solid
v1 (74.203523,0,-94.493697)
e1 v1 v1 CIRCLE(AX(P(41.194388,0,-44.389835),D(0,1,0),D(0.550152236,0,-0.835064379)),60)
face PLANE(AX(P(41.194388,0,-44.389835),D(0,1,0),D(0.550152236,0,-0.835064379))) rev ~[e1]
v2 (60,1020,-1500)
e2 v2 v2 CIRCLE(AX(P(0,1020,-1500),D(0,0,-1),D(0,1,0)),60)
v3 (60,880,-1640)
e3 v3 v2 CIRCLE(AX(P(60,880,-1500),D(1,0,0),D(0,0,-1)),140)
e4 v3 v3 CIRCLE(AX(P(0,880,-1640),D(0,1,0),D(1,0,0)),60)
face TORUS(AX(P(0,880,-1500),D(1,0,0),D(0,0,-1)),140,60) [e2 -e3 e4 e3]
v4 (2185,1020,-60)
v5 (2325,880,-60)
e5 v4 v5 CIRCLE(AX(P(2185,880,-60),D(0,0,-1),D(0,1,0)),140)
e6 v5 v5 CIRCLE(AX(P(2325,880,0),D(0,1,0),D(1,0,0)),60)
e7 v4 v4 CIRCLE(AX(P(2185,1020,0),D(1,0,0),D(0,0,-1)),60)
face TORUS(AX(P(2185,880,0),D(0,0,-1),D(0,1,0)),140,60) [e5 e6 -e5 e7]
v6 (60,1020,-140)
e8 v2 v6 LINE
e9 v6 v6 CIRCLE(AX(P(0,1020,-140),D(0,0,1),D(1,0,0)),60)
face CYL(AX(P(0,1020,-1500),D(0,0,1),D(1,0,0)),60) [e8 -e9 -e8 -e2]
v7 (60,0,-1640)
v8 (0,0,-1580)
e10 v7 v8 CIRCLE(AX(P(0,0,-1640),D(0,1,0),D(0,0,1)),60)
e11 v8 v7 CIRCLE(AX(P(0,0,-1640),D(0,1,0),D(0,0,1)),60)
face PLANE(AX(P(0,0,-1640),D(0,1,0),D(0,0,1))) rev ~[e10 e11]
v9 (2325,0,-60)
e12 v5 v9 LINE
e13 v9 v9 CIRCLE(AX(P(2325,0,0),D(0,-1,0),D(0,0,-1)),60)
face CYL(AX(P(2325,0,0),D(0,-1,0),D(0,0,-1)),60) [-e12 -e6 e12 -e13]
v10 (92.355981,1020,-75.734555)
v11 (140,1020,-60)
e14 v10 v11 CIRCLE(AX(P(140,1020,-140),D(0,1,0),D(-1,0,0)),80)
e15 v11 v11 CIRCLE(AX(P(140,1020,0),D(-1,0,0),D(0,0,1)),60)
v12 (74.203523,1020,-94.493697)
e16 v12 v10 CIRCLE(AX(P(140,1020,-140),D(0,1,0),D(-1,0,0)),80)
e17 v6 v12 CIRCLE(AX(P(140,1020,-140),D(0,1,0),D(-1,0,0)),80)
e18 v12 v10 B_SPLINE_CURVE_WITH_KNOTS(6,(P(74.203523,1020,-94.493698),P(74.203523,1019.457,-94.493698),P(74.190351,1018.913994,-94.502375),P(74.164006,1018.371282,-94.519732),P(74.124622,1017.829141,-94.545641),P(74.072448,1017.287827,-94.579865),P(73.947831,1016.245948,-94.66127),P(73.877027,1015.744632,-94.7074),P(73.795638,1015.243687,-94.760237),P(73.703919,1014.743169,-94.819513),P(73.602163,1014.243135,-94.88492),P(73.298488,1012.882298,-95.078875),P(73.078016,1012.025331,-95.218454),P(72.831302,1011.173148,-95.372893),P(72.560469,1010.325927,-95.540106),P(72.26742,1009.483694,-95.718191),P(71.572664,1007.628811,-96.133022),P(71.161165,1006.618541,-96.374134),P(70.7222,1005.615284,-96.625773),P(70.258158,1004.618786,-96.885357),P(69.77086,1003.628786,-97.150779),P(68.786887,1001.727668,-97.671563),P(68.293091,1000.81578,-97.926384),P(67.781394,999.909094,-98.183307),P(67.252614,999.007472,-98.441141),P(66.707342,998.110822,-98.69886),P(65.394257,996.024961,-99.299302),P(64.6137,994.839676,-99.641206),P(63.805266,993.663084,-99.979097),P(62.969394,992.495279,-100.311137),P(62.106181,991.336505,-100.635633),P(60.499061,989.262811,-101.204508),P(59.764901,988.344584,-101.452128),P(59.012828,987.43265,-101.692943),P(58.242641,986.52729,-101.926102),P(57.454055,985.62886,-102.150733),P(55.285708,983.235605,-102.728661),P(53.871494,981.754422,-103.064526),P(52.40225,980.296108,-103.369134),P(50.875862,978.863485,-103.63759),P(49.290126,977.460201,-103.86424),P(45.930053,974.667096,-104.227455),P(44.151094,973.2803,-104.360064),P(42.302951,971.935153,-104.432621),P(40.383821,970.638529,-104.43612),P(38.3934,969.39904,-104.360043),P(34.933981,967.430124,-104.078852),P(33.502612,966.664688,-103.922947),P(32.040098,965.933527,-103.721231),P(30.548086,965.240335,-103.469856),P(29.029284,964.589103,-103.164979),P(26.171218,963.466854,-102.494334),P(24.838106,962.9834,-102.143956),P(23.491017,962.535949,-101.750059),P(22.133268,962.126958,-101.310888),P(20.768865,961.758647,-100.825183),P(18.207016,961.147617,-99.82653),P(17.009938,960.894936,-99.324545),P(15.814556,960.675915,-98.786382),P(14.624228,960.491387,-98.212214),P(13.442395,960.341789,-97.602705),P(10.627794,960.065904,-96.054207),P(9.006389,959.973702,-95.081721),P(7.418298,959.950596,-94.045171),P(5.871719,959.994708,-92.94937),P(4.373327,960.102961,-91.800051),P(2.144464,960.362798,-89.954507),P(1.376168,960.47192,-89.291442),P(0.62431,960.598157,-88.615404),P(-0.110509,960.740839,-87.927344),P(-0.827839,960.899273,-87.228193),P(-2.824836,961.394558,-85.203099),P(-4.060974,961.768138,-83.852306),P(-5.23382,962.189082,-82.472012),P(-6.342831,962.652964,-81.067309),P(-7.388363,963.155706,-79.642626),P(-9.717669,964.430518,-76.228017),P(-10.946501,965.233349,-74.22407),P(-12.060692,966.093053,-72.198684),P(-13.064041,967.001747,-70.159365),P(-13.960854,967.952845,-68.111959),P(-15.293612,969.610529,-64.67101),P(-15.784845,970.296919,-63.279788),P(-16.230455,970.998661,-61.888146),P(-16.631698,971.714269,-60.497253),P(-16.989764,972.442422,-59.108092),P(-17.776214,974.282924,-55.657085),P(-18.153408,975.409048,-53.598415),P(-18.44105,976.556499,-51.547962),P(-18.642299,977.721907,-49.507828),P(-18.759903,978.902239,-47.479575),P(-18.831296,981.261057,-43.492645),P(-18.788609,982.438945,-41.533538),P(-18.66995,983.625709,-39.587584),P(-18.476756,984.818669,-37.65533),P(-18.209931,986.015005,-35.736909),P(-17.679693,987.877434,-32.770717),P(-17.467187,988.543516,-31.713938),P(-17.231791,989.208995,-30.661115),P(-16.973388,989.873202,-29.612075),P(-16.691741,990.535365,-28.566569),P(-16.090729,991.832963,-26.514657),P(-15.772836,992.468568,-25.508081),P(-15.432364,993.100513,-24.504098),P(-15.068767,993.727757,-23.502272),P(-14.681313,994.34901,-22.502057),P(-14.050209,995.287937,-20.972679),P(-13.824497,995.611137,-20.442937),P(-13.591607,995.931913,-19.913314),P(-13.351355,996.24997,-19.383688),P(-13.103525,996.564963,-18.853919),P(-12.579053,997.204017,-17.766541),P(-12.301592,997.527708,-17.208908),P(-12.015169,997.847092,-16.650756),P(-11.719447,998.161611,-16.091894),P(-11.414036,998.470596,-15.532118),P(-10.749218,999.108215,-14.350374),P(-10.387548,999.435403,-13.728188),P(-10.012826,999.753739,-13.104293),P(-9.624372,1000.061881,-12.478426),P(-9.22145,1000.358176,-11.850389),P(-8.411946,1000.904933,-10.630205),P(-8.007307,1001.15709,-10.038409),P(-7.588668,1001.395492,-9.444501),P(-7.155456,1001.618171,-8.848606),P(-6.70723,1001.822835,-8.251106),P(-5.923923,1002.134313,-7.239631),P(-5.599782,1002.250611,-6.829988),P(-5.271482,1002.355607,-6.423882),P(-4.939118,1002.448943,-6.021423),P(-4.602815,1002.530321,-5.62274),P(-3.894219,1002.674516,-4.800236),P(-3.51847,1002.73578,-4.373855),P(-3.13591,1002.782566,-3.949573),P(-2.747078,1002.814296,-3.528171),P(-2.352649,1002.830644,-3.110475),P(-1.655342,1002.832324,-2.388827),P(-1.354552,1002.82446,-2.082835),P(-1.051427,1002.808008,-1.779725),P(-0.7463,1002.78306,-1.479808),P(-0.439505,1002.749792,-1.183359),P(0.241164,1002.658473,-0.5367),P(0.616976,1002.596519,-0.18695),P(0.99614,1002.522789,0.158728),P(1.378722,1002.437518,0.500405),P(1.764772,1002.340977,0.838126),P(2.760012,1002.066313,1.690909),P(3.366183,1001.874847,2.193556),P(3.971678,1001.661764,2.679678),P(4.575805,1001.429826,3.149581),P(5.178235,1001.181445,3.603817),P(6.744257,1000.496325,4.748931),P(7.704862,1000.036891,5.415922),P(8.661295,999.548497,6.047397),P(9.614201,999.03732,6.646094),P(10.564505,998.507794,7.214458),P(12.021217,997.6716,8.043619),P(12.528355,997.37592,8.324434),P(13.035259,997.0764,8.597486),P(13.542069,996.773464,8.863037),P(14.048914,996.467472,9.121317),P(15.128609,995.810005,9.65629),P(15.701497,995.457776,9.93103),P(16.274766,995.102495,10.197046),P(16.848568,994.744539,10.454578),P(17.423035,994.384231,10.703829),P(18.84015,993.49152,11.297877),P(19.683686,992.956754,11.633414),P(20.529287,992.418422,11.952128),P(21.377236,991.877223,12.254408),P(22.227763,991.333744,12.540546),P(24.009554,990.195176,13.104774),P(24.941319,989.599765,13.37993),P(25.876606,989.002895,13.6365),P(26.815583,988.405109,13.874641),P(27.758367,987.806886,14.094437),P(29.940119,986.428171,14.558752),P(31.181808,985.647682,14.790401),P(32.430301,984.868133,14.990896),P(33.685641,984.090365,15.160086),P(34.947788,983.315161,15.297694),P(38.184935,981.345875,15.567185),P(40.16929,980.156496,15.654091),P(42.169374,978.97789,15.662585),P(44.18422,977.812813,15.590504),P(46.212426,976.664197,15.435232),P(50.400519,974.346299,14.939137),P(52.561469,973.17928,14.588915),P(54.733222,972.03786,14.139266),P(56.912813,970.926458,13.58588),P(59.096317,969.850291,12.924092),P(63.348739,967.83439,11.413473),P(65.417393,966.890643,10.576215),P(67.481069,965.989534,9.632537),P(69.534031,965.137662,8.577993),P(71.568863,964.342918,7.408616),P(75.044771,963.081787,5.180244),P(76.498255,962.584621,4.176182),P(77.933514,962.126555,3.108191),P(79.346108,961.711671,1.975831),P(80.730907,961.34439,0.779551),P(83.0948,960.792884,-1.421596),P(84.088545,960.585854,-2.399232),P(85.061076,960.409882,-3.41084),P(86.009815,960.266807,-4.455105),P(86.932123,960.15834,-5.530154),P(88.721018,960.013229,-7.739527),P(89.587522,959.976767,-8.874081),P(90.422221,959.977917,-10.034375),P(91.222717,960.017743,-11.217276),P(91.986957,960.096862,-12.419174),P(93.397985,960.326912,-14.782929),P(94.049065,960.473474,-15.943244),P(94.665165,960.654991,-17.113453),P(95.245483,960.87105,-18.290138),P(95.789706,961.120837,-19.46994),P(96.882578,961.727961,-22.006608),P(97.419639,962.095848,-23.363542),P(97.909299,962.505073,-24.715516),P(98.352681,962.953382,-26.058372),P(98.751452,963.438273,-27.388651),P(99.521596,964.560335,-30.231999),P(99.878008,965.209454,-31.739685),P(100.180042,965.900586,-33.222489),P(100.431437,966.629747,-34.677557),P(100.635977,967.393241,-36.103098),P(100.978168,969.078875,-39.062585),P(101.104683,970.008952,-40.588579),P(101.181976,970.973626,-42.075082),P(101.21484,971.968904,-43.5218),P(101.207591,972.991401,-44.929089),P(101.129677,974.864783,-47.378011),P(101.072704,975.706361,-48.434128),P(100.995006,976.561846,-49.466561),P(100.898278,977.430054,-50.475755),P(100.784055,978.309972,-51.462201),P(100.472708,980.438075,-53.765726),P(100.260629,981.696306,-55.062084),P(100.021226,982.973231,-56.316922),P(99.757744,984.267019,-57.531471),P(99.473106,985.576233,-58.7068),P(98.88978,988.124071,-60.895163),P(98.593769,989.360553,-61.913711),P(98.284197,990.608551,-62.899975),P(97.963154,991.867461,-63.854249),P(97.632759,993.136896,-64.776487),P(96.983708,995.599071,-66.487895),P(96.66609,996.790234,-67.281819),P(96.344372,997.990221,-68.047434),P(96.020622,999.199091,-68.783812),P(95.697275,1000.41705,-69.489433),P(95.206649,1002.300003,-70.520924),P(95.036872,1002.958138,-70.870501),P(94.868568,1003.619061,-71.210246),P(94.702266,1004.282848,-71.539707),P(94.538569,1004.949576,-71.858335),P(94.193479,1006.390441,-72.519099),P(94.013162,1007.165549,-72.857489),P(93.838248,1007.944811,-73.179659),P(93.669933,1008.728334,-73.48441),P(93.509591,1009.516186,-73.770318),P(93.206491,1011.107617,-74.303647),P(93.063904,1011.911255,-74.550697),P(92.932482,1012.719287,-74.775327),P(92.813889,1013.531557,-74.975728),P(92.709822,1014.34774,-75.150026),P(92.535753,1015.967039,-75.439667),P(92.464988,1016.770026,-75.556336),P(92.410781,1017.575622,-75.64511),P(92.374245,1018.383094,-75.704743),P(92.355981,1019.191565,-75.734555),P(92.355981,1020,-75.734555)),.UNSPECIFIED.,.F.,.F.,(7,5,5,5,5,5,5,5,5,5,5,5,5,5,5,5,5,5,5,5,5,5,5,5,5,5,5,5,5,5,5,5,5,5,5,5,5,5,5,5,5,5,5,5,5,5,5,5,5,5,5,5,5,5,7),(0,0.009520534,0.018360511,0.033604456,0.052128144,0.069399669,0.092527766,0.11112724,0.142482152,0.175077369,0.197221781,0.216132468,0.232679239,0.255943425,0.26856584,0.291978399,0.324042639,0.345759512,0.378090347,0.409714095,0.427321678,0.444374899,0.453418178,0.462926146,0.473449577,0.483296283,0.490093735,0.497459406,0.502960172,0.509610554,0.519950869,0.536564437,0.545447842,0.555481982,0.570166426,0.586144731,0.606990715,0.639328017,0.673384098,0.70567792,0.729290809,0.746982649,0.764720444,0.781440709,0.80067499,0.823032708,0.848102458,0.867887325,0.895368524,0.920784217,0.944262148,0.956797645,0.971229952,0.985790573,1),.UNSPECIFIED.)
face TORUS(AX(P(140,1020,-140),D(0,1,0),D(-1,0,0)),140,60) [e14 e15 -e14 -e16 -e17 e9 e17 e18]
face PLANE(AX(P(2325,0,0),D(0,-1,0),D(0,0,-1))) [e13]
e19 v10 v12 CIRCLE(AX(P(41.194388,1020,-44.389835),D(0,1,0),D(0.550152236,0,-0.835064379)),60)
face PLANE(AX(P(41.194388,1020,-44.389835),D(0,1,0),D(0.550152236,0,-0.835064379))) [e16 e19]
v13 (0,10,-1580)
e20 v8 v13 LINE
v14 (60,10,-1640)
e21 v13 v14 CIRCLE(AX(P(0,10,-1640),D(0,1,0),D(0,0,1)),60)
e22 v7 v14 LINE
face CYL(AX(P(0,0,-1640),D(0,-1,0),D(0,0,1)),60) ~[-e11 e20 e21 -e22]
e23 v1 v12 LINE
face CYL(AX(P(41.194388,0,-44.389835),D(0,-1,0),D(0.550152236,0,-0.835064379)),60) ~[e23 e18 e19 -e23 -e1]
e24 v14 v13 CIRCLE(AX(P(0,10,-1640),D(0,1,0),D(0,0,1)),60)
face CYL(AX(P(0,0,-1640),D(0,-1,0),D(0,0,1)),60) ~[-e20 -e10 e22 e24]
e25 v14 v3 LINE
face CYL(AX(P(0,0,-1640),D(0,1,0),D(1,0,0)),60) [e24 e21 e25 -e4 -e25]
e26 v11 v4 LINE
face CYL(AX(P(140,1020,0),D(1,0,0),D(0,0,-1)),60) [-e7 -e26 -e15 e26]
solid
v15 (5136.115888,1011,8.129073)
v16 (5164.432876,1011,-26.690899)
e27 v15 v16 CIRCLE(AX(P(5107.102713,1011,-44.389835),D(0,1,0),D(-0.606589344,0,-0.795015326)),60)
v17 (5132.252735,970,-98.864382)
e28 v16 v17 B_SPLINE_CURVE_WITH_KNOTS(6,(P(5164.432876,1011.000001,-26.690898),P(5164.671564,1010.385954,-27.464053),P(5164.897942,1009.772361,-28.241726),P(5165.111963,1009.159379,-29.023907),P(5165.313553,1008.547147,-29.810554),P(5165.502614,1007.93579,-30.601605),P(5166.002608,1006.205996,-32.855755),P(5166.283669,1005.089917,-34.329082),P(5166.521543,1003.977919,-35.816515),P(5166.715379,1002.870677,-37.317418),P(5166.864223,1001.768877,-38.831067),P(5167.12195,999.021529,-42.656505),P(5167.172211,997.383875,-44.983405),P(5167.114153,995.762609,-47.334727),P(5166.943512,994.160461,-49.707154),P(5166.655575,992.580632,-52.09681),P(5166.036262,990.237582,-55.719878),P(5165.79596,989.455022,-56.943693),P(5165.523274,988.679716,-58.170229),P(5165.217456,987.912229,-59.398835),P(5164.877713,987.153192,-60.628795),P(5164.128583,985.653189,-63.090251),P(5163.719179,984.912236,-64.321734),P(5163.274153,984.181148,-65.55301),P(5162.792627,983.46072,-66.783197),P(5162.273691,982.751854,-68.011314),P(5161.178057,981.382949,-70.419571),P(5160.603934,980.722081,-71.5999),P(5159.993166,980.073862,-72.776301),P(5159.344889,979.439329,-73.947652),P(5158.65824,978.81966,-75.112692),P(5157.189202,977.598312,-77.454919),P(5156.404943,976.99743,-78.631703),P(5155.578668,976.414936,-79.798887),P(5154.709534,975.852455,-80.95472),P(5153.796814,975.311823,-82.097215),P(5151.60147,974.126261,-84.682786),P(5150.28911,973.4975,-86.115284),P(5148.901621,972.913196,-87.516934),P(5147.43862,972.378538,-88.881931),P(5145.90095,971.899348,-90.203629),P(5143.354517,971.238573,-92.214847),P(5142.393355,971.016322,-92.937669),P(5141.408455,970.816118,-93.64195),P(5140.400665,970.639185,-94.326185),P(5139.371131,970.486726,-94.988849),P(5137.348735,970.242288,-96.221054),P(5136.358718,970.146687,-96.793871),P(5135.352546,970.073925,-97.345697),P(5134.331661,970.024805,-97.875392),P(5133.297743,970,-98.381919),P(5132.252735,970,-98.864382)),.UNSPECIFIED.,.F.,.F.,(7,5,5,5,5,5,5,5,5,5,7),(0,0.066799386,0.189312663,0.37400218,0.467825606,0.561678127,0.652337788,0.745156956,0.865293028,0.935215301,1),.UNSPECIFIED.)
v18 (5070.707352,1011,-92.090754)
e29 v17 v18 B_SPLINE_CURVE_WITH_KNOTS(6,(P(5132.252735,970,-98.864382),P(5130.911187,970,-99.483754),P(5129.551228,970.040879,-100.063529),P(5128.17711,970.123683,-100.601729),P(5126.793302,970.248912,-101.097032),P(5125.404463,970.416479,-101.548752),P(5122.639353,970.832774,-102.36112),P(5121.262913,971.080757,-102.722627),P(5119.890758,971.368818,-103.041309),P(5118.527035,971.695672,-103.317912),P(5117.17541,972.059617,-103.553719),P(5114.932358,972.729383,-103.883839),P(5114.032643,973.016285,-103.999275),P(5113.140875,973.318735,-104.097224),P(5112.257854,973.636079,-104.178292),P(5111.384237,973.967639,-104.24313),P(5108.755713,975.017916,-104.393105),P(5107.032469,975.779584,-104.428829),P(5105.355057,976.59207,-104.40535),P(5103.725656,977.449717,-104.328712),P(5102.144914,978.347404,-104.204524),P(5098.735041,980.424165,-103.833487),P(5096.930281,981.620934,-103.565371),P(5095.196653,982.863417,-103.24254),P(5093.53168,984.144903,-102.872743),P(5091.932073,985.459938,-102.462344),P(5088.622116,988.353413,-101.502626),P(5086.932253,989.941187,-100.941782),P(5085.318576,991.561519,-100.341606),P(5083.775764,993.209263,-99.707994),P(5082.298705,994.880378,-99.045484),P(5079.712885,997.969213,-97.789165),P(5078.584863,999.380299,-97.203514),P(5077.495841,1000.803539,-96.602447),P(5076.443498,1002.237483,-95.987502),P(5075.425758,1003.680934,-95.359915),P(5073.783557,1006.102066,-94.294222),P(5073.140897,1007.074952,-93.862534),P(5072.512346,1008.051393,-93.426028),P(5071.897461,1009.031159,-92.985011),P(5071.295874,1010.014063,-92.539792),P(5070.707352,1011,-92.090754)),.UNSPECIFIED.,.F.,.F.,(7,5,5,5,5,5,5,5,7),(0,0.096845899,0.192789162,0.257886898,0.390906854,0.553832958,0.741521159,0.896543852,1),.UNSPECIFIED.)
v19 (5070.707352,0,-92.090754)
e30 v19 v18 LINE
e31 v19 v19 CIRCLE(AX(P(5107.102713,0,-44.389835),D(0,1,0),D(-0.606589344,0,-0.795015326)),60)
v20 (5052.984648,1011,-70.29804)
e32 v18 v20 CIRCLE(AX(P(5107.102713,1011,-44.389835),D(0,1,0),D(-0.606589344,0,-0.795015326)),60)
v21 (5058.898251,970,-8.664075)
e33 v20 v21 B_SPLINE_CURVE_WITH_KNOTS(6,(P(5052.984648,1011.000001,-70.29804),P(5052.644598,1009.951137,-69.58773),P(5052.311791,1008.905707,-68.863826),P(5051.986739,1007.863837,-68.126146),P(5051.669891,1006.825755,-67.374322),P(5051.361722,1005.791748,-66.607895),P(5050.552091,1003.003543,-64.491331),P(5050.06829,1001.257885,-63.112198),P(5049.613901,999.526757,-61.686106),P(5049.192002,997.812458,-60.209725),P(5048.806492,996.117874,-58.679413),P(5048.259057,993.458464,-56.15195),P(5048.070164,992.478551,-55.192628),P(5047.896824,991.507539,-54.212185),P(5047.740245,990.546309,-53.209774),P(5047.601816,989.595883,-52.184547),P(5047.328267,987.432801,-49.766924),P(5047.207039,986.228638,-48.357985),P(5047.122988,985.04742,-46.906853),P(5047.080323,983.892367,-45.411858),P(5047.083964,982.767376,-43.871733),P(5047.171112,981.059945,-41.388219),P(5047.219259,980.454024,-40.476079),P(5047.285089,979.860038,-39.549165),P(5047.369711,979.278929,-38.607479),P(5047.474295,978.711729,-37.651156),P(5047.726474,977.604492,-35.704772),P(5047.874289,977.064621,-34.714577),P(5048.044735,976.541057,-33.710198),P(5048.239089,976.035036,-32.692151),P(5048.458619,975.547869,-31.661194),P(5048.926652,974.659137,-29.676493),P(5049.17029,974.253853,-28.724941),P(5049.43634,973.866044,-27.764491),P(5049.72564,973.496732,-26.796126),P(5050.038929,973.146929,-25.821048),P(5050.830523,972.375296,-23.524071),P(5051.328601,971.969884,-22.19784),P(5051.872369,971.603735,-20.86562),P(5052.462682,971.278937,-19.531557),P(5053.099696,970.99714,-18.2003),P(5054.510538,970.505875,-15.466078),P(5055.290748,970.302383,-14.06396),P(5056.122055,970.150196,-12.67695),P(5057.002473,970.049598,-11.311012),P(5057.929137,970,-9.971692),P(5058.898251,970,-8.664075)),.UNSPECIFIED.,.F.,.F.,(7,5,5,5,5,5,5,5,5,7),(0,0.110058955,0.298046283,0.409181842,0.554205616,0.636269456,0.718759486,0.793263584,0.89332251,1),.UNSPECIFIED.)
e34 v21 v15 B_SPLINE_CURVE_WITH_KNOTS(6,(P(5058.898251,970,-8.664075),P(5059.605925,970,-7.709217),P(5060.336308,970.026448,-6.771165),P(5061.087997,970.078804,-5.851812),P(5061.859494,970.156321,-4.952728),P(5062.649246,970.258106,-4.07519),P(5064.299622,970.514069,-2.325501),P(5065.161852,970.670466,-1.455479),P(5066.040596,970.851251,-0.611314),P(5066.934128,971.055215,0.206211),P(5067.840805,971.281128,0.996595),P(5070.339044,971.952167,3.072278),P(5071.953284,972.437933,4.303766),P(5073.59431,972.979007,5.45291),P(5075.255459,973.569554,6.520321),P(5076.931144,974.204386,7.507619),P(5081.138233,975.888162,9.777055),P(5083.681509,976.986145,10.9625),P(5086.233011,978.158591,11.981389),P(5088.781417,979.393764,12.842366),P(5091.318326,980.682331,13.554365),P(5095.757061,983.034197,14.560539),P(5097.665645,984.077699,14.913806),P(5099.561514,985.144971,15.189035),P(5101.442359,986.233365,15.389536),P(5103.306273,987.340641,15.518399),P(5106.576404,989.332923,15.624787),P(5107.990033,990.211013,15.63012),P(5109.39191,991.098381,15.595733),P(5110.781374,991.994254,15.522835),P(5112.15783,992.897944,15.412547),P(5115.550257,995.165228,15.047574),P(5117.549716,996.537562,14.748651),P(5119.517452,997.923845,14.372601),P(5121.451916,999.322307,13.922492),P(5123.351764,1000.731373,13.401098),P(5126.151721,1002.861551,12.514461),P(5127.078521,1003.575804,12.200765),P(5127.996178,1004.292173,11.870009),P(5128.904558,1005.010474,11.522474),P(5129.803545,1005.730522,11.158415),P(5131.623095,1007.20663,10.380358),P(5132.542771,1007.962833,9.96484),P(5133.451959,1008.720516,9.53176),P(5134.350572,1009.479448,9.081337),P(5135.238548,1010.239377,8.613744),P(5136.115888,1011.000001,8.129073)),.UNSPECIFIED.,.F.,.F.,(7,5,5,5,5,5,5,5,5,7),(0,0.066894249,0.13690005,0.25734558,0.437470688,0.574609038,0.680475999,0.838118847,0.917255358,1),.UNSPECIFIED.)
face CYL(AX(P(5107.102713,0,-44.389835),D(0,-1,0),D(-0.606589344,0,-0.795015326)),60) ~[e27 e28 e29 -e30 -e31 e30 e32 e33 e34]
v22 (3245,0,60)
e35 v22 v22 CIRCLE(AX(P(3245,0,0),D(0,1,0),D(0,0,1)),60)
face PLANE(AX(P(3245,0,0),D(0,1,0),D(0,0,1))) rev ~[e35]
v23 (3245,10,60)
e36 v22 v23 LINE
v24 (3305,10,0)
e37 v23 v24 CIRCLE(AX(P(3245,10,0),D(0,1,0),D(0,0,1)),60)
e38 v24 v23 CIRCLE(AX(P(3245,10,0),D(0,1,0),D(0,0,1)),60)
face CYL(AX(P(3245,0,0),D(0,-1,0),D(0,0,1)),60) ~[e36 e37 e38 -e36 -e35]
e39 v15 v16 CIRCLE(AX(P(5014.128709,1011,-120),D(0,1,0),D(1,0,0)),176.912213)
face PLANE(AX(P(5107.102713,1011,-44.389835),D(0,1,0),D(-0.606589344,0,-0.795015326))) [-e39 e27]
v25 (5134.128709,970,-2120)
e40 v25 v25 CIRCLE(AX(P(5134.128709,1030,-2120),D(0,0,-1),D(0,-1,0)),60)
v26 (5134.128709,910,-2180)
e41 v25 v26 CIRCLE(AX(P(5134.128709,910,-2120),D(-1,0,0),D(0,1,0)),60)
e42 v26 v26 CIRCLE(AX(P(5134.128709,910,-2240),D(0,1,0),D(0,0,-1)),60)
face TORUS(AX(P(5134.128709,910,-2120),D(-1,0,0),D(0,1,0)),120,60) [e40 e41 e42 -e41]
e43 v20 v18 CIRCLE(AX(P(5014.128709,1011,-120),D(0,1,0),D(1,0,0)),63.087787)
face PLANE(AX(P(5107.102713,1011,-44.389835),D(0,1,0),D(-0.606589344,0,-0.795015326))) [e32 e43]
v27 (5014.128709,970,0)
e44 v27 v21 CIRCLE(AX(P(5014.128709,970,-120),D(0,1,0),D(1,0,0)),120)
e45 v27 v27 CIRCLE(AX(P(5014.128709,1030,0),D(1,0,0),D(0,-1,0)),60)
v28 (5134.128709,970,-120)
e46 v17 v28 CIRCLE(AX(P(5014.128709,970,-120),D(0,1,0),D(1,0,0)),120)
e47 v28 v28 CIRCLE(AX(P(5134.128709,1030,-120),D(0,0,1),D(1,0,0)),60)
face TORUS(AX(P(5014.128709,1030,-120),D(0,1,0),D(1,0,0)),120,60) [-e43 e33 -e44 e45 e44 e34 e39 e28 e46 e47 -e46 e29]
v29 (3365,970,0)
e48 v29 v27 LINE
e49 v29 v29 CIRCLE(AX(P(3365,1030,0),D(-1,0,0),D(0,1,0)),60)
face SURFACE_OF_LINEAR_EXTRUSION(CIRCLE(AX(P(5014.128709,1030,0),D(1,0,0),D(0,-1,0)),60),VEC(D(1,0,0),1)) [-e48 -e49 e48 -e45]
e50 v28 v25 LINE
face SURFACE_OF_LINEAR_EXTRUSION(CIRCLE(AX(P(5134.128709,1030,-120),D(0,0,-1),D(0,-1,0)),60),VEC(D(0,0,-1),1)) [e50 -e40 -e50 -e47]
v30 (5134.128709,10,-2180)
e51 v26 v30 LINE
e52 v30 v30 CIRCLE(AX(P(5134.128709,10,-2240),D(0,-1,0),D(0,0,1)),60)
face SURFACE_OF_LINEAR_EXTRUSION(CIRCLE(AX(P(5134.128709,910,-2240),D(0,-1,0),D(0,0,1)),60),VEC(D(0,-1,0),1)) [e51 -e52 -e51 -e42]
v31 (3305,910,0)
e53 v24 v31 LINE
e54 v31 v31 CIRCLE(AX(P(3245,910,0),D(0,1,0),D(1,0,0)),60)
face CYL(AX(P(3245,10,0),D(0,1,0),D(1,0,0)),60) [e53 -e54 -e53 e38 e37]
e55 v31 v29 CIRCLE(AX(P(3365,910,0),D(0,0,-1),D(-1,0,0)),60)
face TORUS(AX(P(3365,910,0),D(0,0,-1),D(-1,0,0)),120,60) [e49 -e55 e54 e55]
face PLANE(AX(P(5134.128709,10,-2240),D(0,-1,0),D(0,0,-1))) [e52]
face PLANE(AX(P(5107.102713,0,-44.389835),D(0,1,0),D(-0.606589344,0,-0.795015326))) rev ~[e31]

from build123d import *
from build123d.topology import SkipClean

# Parameters (mm, degrees)
CROQUIS1_R              = 60
SALIENTE_EXTRUIR1_DEPTH = 10
CROQUIS2_R              = 60
CROQUIS4_R              = 60
SALIENTE_EXTRUIR3_DEPTH = 1020
CROQUIS5_R              = 60
SALIENTE_EXTRUIR4_DEPTH = 10
CROQUIS6_R              = 60
CROQUIS7_R              = 60
SALIENTE_EXTRUIR5_DEPTH = 1011


with BuildPart() as part:
    # Croquis1 → Saliente-Extruir1 (new body)
    with BuildSketch(Plane(origin=(0, 0, 0), x_dir=(1, 0, 0), z_dir=(0, 1, 0))):
        with Locations(Location((0, 1640, 0), (0, 0, 270))):
            Circle(CROQUIS1_R)
    extrude(amount=SALIENTE_EXTRUIR1_DEPTH)

    # Barrer4: sweep along a curve in space
    with SkipClean():  # the faces are left unmerged after this step: merging them gives an invalid solid
        with BuildLine() as barrer4_path:
            Line((0, 0, -1640), (0, 880, -1640))
            ThreePointArc((0, 880, -1640), (0, 978.994949366, -1598.994949366), (0, 1020, -1500))
            Line((0, 1020, -1500), (0, 1020, -140))
            ThreePointArc((0, 1020, -140), (41.005050634, 1020, -41.005050634), (140, 1020, 0))
            Line((140, 1020, 0), (2185, 1020, 0))
            ThreePointArc((2185, 1020, 0), (2283.994949366, 978.994949366, 0), (2325, 880, 0))
            Line((2325, 0, 0), (2325, 880, 0))
        # Croquis2 → Barrer4 (sweep)
        with BuildSketch(Plane(origin=(0, 10, 0), x_dir=(1, 0, 0), z_dir=(0, 1, 0))):
            with Locations((0, 1640)):
                Circle(CROQUIS2_R)
        sweep(path=barrer4_path.line)

    # Croquis4 → Saliente-Extruir3 (add)
    with SkipClean():  # the faces are left unmerged after this step: merging them gives an invalid solid
        with BuildSketch(Plane(origin=(0, 0, 0), x_dir=(1, 0, 0), z_dir=(0, 1, 0))):
            with Locations(Location((41.194388487, 44.389834766, 0), (0, 0, 56.622542355))):
                Circle(CROQUIS4_R)
        extrude(amount=SALIENTE_EXTRUIR3_DEPTH)


with BuildPart() as body_2:
    # Croquis5 → Saliente-Extruir4 (new body)
    with BuildSketch(Plane(origin=(0, 0, 0), x_dir=(1, 0, 0), z_dir=(0, 1, 0))):
        with Locations(Location((3245, 0, 0), (0, 0, 270))):
            Circle(CROQUIS5_R)
    extrude(amount=SALIENTE_EXTRUIR4_DEPTH)

    # Barrer6: sweep along a curve in space
    with BuildLine() as barrer6_path:
        Line((3245, 10, 0), (3245, 910, 0))
        ThreePointArc((3245, 910, 0), (3280.147186258, 994.852813742, 0), (3365, 1030, 0))
        Line((5014.128708802, 1030, 0), (3365, 1030, 0))
        ThreePointArc((5134.128708802, 1030, -120), (5098.981522545, 1030, -35.147186258), (5014.128708802, 1030, 0))
        Line((5134.128708802, 1030, -120), (5134.128708802, 1030, -2120))
        ThreePointArc((5134.128708802, 1030, -2120), (5134.128708802, 994.852813742, -2204.852813742), (5134.128708802, 910, -2240))
        Line((5134.128708802, 910, -2240), (5134.128708802, 10, -2240))
    # Croquis6 → Barrer6 (sweep)
    with BuildSketch(Plane(origin=(0, 10, 0), x_dir=(1, 0, 0), z_dir=(0, 1, 0))):
        with Locations((3245, 0)):
            Circle(CROQUIS6_R)
    sweep(path=barrer6_path.line)

    # Croquis7 → Saliente-Extruir5 (add)
    with BuildSketch(Plane(origin=(0, 0, 0), x_dir=(1, 0, 0), z_dir=(0, 1, 0))):
        with Locations(Location((5107.102712577, 44.389834766, 0), (0, 0, 127.343296782))):
            Circle(CROQUIS7_R)
    extrude(amount=SALIENTE_EXTRUIR5_DEPTH)


solid = Compound([part.part, body_2.part])
